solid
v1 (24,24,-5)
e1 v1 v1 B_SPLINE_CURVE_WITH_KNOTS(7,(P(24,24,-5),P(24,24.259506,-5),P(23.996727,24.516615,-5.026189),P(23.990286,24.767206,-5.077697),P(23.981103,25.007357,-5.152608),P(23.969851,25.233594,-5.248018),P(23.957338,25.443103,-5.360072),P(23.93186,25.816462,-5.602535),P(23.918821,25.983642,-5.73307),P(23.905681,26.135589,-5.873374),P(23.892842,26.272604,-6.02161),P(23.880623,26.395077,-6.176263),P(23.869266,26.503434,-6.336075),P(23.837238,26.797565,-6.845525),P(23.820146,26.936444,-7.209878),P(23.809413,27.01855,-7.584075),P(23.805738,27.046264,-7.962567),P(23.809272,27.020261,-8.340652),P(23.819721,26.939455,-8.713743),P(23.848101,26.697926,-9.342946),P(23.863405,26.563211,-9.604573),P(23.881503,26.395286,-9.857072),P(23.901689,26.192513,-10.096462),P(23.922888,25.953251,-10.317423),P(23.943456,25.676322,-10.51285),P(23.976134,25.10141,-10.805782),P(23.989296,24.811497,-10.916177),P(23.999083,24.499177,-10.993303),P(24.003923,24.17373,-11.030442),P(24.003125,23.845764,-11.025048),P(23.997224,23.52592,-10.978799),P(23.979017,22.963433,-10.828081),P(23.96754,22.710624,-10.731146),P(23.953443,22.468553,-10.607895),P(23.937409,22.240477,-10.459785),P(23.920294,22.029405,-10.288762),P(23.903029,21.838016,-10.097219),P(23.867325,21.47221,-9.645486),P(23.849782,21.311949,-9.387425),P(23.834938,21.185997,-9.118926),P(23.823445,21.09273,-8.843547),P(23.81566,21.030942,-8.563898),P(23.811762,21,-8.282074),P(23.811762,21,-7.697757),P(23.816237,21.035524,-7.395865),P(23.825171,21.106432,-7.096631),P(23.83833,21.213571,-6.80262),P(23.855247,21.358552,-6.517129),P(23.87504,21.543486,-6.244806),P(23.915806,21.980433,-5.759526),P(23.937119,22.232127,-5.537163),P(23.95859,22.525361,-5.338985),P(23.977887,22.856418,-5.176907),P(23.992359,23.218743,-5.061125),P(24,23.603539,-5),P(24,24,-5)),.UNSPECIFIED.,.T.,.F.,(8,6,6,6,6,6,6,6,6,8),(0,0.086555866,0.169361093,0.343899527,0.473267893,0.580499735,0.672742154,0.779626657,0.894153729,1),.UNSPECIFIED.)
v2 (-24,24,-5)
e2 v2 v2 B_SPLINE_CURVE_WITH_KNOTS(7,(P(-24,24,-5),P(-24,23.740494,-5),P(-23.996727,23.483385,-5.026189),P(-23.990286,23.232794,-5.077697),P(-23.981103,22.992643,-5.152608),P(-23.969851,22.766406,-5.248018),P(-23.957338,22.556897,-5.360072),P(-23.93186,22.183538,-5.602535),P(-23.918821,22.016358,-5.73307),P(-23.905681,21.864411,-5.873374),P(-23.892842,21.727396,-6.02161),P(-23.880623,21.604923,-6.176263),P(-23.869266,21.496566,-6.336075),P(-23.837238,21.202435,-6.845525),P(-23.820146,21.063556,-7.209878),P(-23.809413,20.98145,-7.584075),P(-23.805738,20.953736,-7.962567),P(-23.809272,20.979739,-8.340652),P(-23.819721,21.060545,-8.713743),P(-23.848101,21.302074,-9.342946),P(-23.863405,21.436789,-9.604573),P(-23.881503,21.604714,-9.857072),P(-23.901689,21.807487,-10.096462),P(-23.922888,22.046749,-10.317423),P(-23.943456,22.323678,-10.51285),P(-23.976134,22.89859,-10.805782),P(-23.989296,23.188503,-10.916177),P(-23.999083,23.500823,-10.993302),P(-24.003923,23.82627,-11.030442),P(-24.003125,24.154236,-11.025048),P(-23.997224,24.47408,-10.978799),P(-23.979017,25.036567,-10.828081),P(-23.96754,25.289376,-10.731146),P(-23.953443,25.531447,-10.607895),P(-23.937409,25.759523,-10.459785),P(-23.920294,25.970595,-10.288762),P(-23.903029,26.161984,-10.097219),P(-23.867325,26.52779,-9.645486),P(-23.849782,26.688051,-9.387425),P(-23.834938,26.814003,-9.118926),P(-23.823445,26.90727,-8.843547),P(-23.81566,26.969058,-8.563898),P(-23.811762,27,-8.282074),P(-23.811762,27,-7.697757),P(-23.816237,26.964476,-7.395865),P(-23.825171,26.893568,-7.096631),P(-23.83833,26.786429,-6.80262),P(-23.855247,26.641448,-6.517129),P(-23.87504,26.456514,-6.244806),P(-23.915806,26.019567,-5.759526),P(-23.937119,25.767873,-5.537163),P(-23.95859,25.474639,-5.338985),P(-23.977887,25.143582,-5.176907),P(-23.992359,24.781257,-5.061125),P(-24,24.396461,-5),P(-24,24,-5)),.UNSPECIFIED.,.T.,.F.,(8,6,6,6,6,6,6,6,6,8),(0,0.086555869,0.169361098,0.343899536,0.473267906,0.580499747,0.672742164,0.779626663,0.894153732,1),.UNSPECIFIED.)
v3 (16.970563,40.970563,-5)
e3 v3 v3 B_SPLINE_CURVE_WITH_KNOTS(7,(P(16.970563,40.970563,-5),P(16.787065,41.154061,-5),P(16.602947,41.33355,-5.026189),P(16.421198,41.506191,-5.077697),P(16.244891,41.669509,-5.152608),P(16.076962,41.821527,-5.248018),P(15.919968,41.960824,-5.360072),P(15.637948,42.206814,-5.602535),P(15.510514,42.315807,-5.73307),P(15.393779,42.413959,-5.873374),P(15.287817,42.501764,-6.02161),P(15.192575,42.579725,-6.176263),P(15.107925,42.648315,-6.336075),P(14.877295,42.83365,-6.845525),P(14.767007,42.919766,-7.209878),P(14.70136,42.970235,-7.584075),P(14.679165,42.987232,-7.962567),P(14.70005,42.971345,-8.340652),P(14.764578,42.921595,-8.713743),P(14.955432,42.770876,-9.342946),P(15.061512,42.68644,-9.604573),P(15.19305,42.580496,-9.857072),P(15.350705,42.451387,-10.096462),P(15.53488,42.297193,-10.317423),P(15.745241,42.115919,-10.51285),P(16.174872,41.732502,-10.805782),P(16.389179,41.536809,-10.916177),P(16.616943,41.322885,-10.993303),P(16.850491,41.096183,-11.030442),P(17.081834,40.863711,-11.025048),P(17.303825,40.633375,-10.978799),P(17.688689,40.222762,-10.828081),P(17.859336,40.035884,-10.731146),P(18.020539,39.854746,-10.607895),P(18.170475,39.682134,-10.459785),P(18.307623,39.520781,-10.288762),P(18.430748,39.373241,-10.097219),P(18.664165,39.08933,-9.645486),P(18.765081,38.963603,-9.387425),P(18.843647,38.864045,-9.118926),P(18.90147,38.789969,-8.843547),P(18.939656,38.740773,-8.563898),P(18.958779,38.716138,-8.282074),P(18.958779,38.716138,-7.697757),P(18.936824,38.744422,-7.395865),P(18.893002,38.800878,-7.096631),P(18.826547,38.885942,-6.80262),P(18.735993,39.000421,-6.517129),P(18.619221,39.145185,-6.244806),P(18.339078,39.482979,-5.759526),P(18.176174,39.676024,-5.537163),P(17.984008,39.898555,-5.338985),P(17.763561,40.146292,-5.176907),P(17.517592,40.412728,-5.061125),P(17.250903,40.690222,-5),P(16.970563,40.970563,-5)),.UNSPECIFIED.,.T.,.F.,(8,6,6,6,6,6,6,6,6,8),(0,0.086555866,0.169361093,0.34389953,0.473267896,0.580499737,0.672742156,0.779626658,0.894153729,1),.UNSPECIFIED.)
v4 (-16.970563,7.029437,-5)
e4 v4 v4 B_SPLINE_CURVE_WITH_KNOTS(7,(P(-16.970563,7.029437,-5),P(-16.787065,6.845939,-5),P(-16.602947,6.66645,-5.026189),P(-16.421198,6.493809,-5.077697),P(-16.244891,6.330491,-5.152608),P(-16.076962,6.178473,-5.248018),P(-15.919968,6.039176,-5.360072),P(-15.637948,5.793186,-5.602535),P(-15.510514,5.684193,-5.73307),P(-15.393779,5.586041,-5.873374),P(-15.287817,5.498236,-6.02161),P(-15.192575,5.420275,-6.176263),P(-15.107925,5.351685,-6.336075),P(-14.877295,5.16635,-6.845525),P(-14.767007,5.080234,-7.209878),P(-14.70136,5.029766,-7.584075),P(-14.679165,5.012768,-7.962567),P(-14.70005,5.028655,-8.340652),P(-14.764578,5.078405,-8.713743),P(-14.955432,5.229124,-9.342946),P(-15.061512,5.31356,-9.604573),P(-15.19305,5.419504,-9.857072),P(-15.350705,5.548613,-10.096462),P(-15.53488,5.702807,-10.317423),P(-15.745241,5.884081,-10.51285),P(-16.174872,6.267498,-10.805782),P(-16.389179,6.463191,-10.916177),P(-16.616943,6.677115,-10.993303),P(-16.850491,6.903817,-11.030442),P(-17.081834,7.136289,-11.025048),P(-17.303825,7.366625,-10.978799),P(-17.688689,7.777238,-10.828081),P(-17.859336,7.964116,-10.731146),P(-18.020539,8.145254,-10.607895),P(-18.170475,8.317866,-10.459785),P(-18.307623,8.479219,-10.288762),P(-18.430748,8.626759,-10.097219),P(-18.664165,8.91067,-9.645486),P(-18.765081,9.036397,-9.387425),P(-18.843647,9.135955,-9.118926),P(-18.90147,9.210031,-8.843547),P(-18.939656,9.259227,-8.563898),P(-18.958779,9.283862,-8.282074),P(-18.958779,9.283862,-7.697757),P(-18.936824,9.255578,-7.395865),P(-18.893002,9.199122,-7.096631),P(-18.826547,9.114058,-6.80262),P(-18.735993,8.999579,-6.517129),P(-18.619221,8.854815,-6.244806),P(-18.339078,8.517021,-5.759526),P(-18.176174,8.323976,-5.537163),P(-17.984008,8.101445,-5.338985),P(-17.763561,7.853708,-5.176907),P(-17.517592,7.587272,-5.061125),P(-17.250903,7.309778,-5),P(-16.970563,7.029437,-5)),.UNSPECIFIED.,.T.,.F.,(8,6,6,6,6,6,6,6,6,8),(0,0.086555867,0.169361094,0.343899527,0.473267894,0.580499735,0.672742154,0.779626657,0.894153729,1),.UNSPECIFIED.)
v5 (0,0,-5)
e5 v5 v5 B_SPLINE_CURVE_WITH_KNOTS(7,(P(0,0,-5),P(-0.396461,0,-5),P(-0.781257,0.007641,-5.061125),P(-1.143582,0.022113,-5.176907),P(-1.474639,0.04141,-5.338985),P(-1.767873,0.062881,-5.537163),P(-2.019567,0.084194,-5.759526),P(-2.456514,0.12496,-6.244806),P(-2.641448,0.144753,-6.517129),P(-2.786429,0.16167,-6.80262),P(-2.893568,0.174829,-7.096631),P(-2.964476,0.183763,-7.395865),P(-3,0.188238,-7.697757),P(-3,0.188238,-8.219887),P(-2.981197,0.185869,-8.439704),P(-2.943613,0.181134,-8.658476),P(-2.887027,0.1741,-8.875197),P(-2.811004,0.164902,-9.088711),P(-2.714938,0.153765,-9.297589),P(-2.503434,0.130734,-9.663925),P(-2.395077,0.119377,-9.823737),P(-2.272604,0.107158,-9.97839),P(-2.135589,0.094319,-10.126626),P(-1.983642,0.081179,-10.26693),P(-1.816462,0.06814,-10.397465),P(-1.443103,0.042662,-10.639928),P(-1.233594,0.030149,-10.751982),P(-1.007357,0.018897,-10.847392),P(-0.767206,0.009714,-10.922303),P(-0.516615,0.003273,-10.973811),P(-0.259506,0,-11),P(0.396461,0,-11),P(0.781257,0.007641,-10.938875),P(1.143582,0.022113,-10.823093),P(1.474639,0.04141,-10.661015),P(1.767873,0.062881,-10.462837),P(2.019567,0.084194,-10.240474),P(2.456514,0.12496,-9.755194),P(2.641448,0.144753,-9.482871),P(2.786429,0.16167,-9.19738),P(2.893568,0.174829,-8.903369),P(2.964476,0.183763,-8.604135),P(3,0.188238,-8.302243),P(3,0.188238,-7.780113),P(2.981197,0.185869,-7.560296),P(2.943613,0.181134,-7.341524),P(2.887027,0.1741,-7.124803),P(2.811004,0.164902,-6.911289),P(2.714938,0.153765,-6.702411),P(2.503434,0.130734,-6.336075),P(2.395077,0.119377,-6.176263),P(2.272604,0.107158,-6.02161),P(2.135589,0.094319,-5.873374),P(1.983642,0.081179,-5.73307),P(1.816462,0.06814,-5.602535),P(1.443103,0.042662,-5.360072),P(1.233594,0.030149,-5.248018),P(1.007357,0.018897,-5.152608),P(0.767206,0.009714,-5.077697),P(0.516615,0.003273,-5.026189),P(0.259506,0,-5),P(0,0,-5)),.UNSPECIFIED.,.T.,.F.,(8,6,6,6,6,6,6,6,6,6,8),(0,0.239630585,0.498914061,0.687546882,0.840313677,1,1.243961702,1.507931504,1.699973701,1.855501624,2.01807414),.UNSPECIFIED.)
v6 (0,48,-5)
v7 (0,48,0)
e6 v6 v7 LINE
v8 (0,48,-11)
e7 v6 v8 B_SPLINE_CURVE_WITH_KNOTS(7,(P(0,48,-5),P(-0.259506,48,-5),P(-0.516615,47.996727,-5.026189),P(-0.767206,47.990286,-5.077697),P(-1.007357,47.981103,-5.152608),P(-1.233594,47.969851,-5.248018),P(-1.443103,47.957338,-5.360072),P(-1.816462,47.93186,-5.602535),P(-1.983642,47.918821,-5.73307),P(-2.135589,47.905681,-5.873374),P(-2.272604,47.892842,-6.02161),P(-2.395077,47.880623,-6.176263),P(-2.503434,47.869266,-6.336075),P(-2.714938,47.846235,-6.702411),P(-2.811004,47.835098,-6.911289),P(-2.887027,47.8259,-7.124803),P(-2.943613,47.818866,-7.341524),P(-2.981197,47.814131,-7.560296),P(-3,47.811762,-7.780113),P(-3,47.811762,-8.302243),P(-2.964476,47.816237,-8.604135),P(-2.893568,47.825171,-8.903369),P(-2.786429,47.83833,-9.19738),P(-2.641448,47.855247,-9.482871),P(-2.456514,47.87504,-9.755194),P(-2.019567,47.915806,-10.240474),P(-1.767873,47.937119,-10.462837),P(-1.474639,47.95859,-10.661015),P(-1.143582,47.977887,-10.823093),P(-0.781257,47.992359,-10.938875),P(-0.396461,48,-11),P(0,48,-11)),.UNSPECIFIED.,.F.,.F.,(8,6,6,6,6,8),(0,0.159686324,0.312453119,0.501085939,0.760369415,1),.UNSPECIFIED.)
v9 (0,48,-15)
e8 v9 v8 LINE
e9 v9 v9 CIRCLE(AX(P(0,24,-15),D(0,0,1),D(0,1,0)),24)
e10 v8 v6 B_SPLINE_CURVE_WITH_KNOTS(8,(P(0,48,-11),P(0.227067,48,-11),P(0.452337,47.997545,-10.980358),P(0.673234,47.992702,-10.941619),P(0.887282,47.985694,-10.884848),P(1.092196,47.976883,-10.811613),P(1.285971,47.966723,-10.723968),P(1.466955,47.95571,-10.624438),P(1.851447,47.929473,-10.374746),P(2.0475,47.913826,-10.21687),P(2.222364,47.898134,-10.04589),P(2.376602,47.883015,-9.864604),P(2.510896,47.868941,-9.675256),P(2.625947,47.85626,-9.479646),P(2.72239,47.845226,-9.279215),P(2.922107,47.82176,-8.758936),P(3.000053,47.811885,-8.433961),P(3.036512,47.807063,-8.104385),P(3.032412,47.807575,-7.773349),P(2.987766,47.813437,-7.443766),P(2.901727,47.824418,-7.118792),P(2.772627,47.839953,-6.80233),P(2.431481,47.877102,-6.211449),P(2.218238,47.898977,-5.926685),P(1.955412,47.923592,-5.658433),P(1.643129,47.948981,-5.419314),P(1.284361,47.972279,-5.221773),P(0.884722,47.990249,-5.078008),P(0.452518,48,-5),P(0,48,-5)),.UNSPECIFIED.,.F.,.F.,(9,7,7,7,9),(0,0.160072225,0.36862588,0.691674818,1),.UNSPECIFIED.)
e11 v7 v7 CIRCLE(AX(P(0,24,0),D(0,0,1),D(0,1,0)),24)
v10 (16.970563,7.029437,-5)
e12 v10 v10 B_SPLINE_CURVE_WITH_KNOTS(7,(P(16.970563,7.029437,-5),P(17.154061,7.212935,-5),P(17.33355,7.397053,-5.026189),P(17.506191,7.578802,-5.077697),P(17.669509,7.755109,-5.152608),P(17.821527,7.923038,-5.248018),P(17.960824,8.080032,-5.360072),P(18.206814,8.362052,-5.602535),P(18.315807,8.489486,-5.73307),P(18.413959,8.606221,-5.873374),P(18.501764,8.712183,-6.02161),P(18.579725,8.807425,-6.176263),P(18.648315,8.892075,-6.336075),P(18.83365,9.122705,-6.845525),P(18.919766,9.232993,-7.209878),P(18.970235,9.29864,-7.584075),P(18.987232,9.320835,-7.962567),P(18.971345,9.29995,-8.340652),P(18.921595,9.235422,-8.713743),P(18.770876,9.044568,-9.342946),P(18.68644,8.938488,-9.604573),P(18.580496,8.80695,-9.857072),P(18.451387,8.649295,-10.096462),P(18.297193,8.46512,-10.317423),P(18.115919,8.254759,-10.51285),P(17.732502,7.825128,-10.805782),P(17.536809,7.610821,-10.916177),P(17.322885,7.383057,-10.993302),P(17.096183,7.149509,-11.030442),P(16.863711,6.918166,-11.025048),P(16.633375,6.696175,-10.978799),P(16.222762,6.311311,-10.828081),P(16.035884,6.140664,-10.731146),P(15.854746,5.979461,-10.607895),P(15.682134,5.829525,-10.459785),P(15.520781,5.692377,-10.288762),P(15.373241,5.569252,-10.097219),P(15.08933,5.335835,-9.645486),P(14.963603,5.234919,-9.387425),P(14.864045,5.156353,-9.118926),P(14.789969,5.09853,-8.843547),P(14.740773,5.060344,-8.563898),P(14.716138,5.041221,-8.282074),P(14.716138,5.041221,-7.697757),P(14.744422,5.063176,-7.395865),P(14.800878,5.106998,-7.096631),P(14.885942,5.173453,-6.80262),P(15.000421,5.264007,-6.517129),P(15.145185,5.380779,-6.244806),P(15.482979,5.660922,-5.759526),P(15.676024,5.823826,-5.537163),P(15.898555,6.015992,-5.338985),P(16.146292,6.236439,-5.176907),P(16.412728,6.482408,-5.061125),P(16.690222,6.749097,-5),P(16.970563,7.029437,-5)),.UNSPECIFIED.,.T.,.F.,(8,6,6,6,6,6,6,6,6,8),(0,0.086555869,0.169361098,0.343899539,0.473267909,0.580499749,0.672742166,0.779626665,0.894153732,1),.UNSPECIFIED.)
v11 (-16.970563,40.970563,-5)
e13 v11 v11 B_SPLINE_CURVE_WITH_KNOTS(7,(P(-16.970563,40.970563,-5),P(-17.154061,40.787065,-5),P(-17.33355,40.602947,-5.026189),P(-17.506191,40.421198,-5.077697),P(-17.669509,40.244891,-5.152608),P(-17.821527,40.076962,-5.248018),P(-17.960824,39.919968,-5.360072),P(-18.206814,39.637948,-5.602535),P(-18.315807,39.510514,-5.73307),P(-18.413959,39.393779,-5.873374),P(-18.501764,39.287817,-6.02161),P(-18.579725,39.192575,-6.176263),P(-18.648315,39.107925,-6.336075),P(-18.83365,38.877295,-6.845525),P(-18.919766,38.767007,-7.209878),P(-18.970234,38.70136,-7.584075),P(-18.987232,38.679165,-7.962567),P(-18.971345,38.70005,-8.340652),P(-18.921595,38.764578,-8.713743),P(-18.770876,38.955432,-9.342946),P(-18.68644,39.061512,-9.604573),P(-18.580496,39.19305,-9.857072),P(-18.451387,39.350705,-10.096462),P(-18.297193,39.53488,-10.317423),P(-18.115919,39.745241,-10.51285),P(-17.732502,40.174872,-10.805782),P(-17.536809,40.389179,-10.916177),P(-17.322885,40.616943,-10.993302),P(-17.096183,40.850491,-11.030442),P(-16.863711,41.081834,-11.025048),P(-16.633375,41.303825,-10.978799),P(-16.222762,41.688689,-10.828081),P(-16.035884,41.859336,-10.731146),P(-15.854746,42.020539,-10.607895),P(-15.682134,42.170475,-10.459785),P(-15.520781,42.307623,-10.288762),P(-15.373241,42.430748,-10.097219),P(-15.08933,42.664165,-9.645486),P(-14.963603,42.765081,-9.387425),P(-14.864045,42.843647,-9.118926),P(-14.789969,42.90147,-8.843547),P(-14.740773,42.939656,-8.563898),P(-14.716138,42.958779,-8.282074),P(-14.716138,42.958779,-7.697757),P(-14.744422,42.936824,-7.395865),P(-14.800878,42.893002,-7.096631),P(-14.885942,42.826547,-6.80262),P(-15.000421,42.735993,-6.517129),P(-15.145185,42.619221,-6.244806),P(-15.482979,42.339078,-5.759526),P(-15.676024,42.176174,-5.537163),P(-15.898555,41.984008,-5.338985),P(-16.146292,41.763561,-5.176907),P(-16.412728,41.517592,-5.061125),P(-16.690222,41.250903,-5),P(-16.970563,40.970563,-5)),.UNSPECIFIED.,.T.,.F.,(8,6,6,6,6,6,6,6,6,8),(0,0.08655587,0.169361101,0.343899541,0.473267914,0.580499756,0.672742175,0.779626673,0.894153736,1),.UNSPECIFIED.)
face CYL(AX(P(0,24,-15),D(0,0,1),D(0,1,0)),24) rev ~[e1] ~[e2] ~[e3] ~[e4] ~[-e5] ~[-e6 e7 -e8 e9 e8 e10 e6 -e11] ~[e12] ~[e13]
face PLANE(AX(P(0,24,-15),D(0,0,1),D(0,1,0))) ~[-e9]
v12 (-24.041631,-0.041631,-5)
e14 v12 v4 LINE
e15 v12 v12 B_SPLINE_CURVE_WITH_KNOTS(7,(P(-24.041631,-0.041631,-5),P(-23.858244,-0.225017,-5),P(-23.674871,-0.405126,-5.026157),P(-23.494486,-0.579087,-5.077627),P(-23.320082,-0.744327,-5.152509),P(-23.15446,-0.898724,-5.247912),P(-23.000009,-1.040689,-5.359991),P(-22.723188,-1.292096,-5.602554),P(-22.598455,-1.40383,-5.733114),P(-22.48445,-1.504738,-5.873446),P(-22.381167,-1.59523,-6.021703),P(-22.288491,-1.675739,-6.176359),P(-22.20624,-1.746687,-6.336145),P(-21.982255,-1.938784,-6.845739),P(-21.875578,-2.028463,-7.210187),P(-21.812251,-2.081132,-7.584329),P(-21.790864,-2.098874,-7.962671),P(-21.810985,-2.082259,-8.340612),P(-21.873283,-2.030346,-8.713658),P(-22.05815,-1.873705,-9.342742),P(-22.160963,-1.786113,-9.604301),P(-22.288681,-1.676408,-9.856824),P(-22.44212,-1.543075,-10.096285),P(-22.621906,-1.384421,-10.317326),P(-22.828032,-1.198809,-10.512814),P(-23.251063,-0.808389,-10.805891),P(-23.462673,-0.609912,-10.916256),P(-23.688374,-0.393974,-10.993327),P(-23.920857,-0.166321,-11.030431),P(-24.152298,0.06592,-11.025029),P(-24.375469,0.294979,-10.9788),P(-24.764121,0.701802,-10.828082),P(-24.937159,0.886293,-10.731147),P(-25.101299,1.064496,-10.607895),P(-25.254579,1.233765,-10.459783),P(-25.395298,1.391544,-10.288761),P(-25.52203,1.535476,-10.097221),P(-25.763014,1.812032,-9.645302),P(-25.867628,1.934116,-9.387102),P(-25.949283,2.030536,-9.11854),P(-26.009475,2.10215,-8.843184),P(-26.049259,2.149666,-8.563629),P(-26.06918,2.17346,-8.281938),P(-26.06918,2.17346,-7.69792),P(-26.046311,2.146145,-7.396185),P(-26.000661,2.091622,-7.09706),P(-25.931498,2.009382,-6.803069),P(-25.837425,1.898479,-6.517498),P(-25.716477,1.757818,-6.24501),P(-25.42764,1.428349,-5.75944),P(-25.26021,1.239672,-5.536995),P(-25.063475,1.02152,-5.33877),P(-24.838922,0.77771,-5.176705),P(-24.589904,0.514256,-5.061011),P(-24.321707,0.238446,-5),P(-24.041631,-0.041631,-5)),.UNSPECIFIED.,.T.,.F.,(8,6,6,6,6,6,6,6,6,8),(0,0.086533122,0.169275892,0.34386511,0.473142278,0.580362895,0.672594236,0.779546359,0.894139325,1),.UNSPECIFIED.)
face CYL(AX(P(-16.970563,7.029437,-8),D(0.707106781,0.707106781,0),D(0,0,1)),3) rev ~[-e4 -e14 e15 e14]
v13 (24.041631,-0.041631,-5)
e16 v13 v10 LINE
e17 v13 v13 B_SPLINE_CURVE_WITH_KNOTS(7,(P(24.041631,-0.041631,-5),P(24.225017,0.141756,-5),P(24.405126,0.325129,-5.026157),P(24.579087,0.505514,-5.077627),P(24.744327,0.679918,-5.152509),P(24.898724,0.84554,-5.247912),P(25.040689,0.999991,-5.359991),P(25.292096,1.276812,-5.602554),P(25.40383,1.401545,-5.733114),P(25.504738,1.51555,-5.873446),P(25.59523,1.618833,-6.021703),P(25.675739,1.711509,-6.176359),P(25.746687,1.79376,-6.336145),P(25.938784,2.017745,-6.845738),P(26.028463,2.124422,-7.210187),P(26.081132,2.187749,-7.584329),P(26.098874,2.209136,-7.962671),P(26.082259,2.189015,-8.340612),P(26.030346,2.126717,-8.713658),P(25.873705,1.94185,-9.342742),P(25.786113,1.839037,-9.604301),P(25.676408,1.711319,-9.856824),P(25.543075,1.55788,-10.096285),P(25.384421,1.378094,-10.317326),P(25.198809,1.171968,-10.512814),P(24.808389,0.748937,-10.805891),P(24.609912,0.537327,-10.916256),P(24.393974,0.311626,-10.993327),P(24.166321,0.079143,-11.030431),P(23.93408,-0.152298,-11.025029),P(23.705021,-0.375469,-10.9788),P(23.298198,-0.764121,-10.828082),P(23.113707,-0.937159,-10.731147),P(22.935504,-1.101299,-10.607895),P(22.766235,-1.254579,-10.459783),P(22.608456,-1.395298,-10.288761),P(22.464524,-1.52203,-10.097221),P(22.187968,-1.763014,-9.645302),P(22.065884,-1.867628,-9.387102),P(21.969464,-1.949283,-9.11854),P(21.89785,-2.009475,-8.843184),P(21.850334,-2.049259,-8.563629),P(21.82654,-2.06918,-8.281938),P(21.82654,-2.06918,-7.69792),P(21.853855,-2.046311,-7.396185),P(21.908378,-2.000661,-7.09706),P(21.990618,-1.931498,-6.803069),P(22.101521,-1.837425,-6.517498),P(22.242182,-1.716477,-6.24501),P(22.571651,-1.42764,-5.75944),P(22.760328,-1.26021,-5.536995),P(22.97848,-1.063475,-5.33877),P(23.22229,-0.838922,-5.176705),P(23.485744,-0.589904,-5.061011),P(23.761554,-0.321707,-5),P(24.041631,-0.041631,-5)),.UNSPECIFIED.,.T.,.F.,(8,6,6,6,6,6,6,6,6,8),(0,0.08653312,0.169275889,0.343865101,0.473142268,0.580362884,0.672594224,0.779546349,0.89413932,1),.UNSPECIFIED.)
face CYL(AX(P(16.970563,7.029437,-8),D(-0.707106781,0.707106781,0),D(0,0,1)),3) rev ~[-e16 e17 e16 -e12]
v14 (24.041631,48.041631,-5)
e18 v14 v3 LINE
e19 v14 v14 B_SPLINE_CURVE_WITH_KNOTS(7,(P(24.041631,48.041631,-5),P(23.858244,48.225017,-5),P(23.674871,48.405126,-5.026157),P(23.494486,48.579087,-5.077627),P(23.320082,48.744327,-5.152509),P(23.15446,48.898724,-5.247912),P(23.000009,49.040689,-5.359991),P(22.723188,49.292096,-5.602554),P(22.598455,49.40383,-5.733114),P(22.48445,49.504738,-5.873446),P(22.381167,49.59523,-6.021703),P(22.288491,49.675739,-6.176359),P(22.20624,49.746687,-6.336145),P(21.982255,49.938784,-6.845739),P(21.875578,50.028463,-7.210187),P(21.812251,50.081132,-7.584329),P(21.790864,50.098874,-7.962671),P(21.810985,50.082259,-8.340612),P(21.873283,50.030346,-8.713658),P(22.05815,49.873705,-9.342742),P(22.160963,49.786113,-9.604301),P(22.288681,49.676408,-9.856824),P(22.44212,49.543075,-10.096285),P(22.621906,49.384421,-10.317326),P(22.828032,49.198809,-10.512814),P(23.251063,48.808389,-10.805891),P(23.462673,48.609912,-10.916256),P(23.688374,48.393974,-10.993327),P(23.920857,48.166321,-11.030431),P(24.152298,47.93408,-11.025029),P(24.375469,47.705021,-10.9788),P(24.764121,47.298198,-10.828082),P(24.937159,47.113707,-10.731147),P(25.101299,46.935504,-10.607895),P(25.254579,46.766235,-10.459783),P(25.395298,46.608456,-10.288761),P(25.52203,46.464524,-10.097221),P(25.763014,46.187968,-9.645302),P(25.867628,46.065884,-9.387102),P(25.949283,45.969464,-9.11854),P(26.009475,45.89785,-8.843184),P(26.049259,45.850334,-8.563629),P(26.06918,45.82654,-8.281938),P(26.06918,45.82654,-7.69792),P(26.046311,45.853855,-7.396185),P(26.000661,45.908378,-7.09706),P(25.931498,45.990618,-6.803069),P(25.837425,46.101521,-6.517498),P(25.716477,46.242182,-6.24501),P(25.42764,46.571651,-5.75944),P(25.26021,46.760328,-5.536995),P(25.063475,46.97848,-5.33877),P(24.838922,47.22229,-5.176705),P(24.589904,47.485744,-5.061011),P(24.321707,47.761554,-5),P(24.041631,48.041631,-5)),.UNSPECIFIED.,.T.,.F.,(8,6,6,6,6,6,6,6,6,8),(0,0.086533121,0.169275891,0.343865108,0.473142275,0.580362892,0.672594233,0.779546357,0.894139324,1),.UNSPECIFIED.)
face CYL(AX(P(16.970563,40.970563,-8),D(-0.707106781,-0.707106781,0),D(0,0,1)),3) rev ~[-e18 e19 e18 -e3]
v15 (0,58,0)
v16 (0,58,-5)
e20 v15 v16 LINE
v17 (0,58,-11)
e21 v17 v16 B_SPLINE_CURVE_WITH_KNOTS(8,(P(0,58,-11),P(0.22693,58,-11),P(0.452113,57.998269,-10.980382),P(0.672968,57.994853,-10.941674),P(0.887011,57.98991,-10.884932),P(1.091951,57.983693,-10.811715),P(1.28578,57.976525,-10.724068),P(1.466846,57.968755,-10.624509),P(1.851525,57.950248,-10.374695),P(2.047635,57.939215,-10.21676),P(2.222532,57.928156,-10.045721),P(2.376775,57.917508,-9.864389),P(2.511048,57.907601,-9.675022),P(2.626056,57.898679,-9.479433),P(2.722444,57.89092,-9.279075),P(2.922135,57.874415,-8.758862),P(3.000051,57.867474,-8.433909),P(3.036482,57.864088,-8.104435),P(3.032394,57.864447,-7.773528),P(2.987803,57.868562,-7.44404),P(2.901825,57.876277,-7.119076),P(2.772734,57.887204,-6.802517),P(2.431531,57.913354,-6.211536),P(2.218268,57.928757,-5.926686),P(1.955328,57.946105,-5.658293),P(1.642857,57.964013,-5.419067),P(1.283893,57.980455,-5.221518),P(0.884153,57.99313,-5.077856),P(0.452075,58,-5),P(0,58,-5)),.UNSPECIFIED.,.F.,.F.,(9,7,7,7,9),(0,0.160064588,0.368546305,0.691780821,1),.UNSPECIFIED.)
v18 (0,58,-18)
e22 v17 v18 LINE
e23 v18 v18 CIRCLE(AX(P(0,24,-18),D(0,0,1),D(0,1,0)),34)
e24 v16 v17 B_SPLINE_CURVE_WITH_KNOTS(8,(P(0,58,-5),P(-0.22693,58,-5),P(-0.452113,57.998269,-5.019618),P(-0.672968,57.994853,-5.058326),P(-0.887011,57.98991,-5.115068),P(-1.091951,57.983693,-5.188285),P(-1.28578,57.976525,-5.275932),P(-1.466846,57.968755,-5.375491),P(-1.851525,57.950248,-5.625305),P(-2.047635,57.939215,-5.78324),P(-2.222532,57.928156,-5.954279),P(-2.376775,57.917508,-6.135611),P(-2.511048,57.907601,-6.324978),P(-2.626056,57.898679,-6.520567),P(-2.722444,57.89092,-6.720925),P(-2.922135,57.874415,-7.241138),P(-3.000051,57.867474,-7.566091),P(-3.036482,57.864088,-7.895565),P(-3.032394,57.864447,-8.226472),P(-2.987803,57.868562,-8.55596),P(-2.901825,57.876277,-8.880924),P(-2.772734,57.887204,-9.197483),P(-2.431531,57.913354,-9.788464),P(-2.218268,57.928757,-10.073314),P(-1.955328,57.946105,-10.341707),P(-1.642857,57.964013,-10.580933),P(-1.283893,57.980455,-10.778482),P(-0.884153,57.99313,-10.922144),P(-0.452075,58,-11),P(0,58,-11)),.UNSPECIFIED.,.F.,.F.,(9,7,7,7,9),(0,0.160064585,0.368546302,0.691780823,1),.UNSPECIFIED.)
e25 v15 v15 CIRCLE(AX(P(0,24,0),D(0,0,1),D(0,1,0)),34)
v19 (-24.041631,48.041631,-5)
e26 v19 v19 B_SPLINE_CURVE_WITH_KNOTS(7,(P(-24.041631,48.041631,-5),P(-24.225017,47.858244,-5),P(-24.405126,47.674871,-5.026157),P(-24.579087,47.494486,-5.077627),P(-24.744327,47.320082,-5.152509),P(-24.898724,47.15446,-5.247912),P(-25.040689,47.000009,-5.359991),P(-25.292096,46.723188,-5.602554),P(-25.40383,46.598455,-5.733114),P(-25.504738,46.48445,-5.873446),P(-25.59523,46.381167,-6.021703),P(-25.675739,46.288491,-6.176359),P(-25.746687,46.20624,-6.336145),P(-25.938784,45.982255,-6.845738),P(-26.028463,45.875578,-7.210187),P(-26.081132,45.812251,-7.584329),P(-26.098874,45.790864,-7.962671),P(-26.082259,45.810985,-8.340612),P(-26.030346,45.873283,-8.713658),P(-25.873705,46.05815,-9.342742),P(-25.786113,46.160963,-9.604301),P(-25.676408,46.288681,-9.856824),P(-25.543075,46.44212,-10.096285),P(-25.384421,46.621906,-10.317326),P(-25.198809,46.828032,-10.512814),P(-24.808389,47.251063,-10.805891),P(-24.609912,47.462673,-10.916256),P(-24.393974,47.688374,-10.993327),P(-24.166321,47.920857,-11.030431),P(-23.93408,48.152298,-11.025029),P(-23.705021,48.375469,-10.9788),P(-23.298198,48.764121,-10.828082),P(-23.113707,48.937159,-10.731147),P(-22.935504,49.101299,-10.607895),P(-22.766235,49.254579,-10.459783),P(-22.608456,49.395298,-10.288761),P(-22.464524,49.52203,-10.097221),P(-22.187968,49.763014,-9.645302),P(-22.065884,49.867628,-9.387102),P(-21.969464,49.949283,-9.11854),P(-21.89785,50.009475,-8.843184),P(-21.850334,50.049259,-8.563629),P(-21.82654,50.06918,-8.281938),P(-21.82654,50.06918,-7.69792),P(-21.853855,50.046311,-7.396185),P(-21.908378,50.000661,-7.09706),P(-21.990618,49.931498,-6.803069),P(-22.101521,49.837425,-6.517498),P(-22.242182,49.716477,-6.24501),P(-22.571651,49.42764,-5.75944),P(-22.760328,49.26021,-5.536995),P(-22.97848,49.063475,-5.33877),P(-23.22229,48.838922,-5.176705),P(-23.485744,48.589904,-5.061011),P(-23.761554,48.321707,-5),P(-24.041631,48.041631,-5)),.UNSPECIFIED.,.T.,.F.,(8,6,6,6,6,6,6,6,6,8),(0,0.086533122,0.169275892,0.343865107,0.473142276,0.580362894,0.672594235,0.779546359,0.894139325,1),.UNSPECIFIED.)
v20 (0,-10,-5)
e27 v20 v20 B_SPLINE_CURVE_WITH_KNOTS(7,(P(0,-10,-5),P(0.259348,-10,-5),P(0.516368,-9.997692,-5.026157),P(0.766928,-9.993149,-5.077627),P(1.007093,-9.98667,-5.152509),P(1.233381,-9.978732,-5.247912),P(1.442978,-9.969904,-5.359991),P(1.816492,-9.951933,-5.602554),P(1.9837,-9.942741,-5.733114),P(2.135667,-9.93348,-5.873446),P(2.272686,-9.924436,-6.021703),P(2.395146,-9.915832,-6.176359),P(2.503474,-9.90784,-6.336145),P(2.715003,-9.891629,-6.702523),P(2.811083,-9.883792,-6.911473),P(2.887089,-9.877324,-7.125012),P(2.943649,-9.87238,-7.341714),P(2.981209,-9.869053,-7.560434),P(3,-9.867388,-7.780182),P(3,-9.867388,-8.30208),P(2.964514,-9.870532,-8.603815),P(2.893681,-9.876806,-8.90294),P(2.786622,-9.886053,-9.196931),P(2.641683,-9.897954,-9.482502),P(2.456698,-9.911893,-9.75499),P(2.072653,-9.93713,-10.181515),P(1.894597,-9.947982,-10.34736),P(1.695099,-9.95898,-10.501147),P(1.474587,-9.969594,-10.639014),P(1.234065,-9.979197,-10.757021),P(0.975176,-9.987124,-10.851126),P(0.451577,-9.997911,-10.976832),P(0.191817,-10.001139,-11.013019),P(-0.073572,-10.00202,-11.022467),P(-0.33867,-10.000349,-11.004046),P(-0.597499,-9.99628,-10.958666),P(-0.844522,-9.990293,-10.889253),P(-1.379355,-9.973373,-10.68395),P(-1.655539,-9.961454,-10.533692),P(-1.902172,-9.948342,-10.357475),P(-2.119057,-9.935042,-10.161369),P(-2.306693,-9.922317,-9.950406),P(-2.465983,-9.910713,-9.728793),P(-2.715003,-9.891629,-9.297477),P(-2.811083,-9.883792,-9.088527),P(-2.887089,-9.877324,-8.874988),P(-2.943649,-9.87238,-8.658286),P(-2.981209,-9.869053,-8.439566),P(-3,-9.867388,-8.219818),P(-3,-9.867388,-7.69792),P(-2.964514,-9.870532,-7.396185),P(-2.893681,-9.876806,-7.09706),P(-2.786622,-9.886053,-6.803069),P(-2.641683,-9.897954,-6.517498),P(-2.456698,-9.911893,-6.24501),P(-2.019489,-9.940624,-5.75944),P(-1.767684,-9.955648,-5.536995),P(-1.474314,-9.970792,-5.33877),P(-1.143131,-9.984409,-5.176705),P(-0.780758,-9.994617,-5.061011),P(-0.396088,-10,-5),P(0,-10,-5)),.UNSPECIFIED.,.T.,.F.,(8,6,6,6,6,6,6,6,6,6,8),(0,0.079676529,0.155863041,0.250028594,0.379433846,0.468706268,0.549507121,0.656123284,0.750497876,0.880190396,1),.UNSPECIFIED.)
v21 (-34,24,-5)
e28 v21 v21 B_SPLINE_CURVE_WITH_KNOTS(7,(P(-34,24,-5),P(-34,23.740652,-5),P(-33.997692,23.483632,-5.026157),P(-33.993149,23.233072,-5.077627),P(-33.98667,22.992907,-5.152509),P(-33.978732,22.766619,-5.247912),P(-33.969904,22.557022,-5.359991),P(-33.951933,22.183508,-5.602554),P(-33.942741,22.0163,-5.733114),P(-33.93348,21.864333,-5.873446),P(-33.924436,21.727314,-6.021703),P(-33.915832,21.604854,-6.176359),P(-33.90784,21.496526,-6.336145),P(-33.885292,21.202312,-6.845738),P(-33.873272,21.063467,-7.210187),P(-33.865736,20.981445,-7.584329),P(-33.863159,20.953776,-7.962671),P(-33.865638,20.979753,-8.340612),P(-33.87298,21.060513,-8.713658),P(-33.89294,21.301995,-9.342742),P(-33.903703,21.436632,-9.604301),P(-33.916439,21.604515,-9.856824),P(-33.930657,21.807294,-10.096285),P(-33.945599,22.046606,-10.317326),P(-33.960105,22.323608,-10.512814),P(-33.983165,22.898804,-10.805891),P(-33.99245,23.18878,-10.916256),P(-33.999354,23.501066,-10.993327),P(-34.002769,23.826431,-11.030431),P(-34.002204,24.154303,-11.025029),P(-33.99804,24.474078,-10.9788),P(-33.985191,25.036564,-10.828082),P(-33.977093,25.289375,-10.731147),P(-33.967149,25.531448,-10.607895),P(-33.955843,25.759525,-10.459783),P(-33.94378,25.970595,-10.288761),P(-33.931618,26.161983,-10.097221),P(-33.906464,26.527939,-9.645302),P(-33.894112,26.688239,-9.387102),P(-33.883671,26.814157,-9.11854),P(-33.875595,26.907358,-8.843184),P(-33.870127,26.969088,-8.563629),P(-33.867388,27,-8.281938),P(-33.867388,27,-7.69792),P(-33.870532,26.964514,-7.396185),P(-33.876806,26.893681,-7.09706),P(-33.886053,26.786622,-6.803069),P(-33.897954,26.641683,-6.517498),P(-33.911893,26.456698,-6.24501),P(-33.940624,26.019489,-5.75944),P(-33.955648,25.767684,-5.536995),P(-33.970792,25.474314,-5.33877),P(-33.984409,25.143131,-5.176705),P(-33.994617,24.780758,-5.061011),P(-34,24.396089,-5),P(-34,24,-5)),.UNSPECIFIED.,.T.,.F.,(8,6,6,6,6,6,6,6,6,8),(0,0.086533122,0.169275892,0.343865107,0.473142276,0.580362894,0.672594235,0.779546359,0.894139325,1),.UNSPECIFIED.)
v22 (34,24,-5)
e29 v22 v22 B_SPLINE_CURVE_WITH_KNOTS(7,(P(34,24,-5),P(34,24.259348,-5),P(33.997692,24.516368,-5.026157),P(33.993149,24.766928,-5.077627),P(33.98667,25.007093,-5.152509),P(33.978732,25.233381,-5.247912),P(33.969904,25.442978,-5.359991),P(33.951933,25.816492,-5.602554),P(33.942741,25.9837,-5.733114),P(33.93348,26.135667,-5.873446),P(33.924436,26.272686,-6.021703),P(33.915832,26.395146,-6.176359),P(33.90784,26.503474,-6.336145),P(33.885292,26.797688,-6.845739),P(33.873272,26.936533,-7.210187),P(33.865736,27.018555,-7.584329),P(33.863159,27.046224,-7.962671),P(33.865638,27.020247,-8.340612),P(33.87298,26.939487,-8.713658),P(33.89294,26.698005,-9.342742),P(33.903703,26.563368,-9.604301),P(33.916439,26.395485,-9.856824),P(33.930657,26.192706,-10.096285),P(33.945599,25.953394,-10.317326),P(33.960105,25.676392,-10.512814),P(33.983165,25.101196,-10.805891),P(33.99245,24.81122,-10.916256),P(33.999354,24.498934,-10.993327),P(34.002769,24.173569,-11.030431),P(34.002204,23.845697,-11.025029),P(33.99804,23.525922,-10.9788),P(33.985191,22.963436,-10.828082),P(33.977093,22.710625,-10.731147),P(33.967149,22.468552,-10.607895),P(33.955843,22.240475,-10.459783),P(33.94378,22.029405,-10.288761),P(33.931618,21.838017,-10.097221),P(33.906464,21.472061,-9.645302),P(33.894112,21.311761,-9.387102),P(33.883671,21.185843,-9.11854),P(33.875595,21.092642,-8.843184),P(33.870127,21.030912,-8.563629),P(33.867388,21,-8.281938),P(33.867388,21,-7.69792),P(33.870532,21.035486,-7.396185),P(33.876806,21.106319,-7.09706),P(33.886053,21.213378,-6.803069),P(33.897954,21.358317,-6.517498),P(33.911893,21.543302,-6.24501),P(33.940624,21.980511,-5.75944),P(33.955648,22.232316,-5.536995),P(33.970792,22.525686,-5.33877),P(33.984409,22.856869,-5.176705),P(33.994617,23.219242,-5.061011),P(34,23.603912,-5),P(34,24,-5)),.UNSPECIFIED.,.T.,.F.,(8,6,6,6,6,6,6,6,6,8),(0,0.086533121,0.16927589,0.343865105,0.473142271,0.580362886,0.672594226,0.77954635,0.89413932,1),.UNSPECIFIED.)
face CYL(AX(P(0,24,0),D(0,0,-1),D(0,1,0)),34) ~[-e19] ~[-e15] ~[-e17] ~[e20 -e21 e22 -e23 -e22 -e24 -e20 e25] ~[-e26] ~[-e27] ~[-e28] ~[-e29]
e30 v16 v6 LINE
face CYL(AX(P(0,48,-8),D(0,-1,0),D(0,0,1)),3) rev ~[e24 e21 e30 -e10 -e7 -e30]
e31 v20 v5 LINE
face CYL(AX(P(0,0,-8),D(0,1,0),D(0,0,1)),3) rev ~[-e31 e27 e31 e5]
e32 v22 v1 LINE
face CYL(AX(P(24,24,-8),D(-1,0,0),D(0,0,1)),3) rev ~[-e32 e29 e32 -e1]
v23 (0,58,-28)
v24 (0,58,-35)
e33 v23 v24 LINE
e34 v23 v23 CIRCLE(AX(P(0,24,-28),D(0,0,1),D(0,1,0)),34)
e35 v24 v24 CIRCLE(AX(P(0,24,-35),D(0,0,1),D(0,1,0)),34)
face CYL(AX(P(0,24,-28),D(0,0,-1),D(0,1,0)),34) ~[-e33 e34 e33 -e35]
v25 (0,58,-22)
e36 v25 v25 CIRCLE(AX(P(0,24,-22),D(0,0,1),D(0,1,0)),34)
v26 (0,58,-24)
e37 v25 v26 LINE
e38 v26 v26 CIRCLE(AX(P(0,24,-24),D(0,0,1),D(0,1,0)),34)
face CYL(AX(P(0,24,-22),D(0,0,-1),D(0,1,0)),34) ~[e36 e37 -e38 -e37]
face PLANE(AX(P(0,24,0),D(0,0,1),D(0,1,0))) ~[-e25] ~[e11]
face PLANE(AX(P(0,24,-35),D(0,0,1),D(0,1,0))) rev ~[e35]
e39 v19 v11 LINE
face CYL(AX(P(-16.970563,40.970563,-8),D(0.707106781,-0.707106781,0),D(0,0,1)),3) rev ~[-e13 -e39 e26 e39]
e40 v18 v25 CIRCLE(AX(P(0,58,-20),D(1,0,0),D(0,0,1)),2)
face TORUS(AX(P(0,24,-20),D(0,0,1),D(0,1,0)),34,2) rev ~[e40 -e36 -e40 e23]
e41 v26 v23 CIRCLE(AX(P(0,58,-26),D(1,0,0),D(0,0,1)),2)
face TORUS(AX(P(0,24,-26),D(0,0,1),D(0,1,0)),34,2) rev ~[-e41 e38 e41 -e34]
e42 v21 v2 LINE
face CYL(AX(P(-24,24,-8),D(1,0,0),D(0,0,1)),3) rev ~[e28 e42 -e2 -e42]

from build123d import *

# Parameters (mm, degrees)
SKETCH2_R          = 3
CUT_EXTRUDE3_DEPTH = 12.5
CIRPATTERN1_COUNT  = 8


with BuildPart() as part:
    # Sketch1 → Revolve1 (revolve)
    with BuildSketch(Plane(origin=(0, 0, 0), x_dir=(0, 0, -1), z_dir=(1, 0, 0)), mode=Mode.PRIVATE) as revolve1_sk:
        with BuildLine():
            Line((0, 0), (0, -10))
            Line((0, -10), (18, -10))
            ThreePointArc((18, -10), (20, -8), (22, -10))
            Line((22, -10), (24, -10))
            ThreePointArc((24, -10), (26, -8), (28, -10))
            Line((28, -10), (35, -10))
            Line((35, -10), (35, 24))
            Line((35, 24), (15, 24))
            Line((15, 24), (15, 0))
            Line((15, 0), (0, 0))
        make_face()
    revolve(revolve1_sk.sketch.rotate(Axis((0, 24, -35), (0, 0, 1)), 180), axis=Axis((0, 24, -35), (0, 0, 1)))

    # Sketch2 → Cut-Extrude3 (cut, symmetric)
    with BuildSketch(Plane(origin=(0, 0, 0), x_dir=(1, 0, 0), z_dir=(0, 1, 0))):
        with Locations(Location((0, 8, 0), (0, 0, 270))):
            Circle(SKETCH2_R)
    cut_extrude3 = extrude(amount=CUT_EXTRUDE3_DEPTH, both=True, mode=Mode.SUBTRACT)

    # CirPattern1: Cut-Extrude3 ×8 about axis
    cirpattern1_axis = Axis((0, 24, -35), (0, 0, -1))
    for i in range(1, CIRPATTERN1_COUNT):
        add(cut_extrude3.rotate(cirpattern1_axis, i * 360 / CIRPATTERN1_COUNT), mode=Mode.SUBTRACT)


solid = part.part
